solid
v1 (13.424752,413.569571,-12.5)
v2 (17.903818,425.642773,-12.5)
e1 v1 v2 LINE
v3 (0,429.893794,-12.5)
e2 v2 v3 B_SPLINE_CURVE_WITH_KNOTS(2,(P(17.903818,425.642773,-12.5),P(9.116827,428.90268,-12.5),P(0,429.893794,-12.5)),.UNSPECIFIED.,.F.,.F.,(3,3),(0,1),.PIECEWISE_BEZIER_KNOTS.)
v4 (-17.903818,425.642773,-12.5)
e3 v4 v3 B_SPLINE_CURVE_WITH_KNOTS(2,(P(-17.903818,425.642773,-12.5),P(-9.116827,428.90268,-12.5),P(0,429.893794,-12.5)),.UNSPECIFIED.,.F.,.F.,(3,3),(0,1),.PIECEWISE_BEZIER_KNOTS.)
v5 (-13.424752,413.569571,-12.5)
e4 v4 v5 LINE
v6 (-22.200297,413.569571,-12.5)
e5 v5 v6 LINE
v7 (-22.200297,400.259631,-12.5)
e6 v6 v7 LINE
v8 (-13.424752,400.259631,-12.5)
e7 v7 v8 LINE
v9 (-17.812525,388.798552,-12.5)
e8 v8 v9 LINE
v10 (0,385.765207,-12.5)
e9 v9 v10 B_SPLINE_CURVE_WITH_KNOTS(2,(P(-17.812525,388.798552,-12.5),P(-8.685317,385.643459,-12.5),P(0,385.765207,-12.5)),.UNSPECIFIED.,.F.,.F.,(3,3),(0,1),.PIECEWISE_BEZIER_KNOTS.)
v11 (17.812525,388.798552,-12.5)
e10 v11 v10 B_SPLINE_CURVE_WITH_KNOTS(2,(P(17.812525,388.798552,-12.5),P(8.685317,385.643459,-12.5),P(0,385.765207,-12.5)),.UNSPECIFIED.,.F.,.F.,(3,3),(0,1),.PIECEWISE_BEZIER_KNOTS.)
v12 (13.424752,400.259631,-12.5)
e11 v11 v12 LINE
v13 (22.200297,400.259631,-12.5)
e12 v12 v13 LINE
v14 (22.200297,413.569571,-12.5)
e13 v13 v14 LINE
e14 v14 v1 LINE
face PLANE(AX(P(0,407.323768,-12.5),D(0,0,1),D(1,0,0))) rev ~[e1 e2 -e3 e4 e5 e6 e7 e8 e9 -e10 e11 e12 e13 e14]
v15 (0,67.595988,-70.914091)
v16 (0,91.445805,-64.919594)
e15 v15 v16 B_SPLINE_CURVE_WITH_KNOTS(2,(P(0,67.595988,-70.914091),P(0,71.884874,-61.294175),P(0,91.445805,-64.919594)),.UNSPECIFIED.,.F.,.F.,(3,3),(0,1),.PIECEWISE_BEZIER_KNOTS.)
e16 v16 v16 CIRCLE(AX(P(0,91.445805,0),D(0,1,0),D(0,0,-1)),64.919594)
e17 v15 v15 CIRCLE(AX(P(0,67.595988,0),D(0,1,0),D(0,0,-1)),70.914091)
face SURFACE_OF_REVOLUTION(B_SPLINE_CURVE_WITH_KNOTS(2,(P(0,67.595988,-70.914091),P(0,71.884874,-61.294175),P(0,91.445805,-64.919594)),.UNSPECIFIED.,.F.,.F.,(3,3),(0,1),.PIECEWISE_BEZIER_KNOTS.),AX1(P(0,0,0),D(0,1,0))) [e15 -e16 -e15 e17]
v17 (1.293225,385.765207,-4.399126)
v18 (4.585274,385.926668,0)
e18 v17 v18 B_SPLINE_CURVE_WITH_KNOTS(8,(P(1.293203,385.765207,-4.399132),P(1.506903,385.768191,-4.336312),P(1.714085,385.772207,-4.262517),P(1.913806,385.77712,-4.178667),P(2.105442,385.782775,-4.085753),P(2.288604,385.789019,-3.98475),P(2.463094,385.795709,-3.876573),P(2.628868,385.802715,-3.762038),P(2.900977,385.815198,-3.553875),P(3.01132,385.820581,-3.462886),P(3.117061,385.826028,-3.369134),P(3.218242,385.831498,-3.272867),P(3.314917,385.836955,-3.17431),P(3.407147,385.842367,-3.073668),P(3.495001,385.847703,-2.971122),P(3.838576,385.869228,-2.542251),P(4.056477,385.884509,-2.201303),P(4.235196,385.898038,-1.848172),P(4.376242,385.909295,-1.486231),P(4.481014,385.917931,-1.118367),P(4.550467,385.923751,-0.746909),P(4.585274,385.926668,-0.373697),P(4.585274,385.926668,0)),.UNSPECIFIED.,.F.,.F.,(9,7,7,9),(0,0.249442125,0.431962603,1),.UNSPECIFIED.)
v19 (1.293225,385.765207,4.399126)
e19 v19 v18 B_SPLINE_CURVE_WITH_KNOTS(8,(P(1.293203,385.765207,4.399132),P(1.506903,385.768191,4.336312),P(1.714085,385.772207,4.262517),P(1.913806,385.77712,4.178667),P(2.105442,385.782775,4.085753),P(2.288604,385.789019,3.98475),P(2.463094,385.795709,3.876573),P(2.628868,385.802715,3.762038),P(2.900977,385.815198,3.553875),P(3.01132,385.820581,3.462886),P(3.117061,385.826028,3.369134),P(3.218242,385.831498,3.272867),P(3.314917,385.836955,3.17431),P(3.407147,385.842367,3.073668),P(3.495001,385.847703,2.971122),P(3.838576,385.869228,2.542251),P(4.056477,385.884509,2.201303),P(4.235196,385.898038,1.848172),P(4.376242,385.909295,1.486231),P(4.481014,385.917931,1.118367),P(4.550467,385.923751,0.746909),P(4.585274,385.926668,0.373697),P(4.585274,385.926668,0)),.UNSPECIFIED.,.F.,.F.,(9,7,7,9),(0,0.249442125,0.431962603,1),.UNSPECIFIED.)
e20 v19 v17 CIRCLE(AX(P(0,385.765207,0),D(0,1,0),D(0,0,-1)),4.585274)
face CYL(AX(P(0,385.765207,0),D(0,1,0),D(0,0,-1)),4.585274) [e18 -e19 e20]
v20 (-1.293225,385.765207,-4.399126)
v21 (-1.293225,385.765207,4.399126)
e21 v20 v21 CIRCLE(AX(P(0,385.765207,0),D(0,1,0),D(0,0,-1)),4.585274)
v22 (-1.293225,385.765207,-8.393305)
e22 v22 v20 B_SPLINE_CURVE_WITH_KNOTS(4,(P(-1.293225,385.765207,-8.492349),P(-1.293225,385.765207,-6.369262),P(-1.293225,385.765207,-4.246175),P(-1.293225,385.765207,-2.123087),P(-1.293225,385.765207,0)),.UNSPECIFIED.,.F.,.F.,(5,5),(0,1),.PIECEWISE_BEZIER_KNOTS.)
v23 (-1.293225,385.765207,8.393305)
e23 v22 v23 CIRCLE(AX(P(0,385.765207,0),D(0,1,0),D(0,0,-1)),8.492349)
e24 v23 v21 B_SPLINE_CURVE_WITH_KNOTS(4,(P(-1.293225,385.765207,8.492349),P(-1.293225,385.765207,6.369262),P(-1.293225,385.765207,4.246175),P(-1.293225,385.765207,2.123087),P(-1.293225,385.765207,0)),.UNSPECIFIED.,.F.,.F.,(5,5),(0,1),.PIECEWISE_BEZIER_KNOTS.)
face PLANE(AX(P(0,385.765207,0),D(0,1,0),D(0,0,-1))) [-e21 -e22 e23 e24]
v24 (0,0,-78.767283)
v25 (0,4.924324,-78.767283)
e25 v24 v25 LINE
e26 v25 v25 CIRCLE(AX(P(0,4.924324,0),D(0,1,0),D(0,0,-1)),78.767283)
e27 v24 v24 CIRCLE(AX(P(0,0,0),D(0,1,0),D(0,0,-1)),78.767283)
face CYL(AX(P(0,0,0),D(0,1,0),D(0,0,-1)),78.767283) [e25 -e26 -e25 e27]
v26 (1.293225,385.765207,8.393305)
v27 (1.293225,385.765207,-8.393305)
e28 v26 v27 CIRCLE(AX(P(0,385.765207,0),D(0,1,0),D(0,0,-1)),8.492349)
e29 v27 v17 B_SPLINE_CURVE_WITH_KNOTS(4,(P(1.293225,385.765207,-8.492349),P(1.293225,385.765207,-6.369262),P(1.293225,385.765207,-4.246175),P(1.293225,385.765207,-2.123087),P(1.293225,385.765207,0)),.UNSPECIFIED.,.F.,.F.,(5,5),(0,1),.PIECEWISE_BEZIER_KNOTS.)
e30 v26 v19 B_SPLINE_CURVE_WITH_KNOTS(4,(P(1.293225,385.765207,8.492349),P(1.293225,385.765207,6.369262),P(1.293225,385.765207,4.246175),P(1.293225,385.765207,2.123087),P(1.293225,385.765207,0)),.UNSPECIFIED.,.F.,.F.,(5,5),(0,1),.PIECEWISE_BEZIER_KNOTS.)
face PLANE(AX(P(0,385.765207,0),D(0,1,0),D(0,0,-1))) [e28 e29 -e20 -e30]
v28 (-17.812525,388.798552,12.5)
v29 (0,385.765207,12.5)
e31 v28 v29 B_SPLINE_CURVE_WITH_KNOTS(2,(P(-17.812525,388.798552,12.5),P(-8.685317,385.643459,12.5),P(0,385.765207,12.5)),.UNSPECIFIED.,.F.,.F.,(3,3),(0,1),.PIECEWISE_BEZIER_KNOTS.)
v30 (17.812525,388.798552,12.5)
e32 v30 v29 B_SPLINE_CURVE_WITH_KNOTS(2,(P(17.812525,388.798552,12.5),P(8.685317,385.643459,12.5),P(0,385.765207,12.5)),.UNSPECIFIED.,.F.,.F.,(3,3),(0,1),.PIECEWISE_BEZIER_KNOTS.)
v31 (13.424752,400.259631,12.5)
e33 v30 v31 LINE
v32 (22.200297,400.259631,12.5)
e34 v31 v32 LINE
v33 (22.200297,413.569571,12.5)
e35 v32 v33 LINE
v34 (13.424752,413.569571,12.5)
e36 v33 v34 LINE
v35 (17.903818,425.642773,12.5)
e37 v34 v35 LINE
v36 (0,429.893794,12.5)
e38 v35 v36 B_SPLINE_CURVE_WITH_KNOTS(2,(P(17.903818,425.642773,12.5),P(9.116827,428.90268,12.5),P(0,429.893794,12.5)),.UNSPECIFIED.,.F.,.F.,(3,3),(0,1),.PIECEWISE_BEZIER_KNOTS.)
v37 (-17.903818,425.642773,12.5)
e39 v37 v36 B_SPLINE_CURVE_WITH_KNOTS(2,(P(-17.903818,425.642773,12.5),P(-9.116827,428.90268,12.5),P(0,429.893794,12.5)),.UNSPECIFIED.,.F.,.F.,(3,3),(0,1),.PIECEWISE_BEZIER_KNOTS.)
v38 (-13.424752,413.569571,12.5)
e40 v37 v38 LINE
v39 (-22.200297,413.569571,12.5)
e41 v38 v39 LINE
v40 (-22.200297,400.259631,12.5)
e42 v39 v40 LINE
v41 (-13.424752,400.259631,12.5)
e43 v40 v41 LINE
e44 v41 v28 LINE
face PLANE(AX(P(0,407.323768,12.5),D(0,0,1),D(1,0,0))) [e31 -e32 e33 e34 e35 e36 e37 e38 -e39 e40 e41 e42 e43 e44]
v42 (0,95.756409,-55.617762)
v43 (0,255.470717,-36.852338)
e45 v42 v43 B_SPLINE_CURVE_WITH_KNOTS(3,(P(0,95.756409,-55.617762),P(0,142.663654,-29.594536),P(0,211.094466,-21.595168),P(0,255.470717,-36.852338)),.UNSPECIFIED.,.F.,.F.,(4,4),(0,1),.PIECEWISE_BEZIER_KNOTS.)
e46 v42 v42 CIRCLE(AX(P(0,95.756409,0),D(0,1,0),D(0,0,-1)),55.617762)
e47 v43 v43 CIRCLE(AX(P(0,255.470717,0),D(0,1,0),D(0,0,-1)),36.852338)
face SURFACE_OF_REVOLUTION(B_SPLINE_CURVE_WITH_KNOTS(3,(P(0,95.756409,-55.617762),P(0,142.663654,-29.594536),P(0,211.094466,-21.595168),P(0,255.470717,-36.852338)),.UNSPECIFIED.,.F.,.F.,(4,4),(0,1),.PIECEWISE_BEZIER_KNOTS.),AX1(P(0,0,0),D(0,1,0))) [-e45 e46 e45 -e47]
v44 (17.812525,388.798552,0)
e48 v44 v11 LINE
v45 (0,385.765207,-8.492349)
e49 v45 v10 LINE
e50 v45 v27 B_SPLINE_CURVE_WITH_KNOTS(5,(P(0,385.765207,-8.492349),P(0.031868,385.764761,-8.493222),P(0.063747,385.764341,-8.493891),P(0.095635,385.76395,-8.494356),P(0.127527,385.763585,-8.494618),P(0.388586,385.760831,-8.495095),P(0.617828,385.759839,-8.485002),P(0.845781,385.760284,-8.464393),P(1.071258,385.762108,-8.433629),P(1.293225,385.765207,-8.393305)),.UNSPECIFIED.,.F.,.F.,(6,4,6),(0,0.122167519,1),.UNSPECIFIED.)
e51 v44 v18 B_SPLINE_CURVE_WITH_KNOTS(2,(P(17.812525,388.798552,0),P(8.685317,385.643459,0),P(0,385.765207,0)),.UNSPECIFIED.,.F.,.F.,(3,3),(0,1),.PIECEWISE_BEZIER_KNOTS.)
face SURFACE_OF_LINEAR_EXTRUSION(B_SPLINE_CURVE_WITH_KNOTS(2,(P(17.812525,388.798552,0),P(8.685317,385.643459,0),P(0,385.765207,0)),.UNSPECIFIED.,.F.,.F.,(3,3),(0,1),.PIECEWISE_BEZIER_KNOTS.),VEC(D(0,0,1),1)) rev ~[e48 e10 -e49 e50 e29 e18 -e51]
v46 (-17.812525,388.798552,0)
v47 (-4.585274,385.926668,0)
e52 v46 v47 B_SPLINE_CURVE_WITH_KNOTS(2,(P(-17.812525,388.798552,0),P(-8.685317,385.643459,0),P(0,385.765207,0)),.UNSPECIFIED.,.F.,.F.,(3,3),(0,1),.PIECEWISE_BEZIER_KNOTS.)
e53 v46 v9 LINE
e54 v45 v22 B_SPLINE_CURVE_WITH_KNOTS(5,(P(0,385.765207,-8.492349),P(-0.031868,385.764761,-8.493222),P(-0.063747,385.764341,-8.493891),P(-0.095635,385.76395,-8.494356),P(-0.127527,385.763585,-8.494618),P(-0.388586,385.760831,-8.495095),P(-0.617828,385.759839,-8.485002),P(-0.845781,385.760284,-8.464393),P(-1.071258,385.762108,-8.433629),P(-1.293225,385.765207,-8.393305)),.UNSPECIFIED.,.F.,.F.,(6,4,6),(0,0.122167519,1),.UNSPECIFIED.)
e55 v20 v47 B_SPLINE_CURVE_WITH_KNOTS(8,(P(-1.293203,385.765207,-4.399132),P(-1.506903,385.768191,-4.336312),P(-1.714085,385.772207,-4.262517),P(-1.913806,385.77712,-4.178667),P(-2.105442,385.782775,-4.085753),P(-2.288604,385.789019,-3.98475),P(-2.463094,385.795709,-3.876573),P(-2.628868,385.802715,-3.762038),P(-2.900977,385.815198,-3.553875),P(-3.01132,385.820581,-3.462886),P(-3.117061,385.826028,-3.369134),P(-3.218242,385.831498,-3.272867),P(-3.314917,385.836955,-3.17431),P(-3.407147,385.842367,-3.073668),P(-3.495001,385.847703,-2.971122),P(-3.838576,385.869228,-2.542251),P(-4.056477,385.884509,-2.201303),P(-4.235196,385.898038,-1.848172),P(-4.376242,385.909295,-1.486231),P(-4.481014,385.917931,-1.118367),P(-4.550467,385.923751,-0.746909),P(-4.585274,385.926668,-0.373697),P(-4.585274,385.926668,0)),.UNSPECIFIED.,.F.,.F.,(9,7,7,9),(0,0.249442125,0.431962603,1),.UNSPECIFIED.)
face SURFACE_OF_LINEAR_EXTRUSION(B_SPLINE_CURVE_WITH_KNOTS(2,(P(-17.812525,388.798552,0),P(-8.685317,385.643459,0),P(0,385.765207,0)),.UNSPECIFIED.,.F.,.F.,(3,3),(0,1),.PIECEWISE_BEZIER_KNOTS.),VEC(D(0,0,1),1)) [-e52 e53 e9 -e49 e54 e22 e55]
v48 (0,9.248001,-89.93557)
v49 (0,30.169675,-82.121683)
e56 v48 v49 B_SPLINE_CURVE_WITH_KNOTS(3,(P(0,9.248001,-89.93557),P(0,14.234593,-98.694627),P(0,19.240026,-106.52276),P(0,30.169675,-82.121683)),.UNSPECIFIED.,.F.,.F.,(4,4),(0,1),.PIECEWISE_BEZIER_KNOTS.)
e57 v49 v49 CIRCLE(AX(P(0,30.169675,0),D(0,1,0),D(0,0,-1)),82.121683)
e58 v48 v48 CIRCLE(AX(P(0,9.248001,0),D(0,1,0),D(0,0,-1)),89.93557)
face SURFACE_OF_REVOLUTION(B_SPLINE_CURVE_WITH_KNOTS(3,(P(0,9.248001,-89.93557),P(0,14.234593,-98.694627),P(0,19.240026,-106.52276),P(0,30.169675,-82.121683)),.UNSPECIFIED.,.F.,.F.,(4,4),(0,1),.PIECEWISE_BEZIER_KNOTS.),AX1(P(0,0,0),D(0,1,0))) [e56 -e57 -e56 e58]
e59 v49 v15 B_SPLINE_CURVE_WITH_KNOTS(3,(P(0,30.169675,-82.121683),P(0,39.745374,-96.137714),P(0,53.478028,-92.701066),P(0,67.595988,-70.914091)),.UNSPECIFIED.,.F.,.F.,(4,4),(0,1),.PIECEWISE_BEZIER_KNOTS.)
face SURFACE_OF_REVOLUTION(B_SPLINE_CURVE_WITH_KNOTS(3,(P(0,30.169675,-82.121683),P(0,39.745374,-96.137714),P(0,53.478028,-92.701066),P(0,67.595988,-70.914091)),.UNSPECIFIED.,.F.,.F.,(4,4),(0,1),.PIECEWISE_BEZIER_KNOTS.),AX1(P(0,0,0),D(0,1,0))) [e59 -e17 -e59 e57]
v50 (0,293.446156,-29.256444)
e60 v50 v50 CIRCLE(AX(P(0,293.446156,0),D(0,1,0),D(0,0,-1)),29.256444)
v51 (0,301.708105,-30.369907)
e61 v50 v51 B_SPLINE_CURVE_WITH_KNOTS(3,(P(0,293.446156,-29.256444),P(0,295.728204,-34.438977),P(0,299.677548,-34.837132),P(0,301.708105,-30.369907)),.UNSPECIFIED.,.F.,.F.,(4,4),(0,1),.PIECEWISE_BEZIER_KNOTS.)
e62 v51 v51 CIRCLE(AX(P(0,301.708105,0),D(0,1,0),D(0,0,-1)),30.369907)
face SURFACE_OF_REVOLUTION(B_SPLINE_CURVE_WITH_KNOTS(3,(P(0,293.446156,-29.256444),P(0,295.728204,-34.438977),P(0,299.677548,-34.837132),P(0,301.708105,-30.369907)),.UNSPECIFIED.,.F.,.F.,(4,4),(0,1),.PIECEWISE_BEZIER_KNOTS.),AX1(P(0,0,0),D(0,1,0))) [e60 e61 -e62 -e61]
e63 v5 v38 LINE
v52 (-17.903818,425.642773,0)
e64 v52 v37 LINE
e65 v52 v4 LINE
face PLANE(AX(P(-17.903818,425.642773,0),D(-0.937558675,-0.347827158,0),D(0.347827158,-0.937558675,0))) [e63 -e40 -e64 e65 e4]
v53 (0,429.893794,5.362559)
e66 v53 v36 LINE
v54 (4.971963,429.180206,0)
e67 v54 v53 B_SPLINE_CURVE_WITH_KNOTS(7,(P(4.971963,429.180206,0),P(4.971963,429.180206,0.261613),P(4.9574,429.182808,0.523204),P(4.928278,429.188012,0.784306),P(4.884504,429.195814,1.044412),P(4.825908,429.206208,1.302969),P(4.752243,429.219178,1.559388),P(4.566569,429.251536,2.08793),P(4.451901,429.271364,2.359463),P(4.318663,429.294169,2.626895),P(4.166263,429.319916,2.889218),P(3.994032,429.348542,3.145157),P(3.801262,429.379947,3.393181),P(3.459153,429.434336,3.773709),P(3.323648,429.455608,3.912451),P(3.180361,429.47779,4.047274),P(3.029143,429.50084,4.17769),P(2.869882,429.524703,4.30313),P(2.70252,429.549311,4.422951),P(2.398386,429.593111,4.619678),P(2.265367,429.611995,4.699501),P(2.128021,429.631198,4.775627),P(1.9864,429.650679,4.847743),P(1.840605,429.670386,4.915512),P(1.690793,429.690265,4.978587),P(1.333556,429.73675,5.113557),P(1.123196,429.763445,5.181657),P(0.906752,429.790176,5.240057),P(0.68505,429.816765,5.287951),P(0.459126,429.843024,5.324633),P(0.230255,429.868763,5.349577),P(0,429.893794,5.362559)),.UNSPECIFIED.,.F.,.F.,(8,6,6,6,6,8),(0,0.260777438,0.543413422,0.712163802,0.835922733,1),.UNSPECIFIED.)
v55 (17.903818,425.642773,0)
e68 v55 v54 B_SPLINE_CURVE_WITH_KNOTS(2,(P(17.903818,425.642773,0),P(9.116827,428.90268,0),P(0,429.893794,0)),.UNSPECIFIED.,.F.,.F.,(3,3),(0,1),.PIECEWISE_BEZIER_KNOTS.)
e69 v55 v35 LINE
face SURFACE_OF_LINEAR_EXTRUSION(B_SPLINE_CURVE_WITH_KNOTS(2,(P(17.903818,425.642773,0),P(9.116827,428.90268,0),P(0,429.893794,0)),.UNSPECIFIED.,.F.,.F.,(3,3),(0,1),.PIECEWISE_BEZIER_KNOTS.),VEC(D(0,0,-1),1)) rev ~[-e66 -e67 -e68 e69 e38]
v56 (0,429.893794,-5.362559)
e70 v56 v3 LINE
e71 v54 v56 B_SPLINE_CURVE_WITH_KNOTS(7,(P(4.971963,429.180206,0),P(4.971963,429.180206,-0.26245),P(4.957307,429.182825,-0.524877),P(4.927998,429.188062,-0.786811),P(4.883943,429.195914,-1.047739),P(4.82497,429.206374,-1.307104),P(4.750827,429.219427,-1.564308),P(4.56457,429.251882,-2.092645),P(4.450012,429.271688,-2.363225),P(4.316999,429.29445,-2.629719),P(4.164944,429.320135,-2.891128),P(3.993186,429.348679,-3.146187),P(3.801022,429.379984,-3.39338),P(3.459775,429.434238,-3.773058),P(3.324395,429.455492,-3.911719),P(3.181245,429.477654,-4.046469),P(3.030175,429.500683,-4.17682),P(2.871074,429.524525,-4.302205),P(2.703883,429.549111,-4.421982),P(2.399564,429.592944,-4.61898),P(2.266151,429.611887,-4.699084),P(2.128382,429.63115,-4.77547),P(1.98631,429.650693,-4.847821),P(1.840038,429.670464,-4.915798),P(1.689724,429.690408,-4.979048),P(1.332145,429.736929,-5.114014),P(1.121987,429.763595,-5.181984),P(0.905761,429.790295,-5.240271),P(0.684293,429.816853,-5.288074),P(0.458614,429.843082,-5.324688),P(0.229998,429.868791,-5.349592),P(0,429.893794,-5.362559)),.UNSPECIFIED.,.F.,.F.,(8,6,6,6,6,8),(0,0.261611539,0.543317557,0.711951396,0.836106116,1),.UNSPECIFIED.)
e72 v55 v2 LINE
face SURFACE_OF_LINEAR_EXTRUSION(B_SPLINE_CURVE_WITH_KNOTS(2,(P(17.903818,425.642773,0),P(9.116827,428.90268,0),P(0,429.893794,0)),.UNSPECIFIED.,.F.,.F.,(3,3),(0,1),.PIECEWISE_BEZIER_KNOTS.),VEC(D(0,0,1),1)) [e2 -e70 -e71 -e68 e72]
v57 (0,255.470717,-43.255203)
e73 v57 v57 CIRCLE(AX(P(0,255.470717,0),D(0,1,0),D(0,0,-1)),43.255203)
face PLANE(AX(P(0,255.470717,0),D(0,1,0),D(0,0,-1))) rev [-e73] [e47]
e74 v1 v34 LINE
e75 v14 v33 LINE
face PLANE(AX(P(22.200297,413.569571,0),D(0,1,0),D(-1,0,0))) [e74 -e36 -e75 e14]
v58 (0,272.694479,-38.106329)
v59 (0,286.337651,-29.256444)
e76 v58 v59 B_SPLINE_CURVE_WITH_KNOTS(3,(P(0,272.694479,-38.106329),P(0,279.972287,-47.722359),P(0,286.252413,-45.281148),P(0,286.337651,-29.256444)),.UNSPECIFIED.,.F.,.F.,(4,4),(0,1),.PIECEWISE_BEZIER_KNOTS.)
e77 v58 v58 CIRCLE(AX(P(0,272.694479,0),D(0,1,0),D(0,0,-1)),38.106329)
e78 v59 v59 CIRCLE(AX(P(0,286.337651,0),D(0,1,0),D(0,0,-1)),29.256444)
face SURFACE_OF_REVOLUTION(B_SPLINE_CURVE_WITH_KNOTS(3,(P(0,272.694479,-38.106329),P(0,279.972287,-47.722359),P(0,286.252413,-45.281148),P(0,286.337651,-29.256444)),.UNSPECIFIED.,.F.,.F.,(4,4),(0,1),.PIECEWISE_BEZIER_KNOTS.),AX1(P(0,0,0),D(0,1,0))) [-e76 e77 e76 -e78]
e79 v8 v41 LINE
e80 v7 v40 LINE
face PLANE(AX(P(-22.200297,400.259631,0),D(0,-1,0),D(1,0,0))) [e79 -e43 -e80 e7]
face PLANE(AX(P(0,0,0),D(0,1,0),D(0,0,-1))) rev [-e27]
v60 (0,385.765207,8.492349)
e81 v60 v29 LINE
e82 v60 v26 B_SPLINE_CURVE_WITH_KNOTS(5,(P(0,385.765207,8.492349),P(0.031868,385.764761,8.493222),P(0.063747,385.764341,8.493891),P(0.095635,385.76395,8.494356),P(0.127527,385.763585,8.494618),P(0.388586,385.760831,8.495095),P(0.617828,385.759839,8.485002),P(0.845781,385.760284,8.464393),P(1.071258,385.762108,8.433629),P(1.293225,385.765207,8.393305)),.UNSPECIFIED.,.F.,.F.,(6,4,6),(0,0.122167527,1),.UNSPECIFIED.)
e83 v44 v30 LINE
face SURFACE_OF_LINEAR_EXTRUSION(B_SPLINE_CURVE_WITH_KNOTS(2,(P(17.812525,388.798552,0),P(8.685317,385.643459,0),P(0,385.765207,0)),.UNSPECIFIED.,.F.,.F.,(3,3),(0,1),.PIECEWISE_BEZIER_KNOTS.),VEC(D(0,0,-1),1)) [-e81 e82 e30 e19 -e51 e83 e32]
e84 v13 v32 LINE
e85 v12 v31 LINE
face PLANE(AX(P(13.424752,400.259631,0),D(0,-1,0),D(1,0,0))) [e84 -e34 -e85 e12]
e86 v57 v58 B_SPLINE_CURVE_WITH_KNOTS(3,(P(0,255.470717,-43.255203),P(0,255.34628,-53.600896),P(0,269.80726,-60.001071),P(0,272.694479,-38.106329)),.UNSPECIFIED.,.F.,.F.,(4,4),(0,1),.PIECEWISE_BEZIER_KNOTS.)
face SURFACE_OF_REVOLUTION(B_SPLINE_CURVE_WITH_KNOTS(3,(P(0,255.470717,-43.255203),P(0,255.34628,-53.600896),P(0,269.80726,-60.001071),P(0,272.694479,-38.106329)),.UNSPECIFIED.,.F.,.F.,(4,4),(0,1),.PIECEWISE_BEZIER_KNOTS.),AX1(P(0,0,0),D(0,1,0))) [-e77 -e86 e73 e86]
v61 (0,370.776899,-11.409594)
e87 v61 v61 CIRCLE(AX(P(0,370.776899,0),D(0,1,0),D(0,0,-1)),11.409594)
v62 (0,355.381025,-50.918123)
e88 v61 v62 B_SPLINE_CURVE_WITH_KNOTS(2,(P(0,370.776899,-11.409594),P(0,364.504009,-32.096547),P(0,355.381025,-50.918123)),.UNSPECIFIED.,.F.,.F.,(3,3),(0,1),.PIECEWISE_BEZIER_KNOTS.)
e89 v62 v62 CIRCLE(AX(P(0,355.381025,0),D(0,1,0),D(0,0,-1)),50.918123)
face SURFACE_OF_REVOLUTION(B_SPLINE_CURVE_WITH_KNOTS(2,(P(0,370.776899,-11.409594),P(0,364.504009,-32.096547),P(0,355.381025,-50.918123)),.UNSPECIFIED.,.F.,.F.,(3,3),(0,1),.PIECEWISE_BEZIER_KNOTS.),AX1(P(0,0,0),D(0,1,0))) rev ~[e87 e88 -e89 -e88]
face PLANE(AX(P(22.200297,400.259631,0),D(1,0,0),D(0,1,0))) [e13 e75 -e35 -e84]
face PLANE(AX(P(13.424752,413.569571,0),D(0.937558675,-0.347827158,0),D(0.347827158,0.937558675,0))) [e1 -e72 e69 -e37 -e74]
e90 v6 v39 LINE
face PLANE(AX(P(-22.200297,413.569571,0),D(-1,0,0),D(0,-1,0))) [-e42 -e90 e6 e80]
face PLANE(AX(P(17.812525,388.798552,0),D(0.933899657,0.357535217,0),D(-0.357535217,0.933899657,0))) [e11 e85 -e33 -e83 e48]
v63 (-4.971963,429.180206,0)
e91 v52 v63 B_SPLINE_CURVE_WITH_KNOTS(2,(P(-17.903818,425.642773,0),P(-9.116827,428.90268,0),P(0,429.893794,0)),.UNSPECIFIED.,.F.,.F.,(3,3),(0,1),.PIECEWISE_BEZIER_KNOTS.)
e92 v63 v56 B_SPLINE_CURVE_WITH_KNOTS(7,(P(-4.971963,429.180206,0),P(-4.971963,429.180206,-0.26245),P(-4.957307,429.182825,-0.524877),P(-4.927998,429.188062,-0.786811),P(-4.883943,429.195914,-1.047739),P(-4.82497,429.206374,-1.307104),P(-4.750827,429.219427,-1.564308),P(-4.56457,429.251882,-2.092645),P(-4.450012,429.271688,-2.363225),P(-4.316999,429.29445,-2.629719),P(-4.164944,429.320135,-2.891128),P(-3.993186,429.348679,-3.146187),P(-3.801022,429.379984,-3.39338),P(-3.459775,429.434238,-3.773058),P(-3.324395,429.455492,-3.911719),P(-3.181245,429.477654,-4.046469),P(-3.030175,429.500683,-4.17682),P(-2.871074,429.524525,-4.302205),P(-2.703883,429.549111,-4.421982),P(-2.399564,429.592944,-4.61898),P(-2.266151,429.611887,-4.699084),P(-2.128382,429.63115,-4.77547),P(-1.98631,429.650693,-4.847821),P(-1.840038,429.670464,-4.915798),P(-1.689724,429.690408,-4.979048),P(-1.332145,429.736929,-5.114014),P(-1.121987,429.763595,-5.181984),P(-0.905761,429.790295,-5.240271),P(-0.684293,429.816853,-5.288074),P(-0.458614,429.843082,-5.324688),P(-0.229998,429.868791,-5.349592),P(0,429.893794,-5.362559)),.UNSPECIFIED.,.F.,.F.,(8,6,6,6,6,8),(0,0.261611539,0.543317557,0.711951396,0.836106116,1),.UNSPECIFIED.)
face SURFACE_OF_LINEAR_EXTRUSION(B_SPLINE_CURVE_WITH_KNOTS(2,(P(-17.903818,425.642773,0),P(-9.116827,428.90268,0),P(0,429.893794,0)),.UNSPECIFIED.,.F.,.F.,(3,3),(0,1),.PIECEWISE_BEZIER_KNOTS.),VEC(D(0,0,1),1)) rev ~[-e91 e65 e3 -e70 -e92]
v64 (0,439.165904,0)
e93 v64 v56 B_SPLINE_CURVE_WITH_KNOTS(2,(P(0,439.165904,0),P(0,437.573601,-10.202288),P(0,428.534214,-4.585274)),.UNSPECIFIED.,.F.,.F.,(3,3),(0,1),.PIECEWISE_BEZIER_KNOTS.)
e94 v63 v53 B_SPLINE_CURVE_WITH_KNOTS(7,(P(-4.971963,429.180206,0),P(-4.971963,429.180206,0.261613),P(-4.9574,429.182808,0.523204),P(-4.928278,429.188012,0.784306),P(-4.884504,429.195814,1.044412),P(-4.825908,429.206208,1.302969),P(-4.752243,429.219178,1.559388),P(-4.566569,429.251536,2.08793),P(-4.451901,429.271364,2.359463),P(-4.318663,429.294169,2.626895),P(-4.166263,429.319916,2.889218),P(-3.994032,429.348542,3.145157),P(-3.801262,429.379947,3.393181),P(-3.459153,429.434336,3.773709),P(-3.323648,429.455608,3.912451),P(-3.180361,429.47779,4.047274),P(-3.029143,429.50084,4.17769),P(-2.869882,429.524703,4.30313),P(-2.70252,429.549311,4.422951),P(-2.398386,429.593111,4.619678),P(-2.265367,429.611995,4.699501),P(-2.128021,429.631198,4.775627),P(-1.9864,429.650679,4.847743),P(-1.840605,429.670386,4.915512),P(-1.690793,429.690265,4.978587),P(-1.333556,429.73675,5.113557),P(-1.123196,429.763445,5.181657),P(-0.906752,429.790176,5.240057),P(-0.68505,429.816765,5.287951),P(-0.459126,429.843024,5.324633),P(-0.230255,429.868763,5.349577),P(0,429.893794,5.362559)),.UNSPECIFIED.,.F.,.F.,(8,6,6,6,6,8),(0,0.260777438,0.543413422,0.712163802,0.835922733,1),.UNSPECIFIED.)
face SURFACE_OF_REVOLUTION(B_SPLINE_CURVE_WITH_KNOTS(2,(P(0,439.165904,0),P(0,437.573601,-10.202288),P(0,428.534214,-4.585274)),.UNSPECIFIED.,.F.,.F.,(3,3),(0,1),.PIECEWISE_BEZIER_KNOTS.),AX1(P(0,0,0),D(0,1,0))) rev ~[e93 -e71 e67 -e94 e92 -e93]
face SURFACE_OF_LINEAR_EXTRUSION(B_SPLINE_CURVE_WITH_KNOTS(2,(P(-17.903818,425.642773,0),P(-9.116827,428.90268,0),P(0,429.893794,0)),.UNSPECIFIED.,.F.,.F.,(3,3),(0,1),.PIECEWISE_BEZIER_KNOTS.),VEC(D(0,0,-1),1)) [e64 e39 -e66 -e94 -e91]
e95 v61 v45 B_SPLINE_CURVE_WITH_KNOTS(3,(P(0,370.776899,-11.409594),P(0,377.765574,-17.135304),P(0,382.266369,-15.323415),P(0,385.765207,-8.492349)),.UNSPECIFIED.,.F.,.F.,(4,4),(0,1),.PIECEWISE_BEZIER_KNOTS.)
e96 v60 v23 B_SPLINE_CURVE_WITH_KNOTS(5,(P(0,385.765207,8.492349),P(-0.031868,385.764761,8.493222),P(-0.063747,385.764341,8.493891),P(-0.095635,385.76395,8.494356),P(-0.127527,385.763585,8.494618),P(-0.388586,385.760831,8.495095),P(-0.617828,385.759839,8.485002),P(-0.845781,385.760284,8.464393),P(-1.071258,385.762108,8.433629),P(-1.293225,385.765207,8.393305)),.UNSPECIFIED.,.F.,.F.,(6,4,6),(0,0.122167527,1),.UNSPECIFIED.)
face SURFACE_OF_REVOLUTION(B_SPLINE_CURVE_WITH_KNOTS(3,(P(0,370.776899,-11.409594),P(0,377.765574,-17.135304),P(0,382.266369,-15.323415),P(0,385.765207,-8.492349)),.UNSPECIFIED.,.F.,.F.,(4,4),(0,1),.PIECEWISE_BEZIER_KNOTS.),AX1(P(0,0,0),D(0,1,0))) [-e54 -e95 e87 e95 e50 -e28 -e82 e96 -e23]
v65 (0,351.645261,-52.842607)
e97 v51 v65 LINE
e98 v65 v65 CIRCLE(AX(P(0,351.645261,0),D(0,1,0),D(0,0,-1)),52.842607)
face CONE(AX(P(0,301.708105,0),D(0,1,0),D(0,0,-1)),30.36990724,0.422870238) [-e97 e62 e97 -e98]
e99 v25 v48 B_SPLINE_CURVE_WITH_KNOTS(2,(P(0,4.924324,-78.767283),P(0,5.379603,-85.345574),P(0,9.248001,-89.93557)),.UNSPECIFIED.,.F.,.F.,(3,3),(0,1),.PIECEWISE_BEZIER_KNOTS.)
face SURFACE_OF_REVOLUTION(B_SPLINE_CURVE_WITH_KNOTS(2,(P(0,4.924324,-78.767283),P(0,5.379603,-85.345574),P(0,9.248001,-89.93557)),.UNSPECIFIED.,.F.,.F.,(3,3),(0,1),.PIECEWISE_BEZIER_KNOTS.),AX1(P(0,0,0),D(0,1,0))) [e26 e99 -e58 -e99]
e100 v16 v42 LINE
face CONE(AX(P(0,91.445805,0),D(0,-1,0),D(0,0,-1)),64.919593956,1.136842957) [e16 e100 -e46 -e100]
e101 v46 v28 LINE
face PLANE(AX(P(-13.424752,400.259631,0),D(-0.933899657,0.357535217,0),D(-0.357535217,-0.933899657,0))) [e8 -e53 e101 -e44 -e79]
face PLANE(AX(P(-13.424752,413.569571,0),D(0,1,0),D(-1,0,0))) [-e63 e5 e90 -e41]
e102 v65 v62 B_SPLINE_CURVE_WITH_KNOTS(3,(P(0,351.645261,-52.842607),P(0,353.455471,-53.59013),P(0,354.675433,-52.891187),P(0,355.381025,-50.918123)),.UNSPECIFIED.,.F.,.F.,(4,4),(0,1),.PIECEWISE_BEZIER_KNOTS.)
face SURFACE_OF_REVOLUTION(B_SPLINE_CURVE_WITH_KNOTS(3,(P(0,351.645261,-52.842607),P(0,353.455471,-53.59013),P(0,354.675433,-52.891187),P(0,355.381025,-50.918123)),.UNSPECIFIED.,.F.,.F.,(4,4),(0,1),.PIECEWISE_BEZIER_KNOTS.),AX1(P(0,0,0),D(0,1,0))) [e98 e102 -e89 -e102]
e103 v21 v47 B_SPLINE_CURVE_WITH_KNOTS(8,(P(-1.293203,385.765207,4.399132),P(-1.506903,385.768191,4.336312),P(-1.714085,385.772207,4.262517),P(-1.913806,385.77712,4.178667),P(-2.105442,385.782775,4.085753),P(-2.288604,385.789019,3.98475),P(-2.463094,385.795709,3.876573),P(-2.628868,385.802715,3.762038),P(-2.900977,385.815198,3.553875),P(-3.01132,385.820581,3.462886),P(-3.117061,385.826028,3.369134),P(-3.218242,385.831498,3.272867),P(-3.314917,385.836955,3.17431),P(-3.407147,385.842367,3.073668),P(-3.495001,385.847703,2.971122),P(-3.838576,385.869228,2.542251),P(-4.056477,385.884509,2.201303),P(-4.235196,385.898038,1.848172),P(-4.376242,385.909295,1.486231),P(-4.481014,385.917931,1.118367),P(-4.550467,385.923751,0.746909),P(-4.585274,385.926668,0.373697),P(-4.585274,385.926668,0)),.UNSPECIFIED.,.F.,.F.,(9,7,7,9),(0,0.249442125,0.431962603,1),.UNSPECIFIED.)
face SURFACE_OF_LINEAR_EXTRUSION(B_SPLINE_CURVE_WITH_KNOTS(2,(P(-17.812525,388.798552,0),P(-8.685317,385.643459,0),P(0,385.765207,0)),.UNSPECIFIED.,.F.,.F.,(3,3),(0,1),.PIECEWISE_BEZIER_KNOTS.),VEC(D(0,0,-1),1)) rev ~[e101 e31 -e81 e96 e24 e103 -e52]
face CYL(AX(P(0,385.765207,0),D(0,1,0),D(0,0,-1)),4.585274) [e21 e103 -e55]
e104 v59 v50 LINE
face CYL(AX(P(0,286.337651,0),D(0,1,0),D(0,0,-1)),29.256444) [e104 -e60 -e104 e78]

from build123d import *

# Parameters (mm, degrees)
BOSS_EXTRUDE1_DEPTH = 25
SCALE2_SCALE        = 0.5


with BuildPart() as part:
    # Sketch1 → Revolve1 (revolve)
    with BuildSketch(Plane.XY, mode=Mode.PRIVATE) as revolve1_sk:
        with BuildLine():
            Line((0, 0), (157.534566076, 0))
            Line((157.534566076, 0), (157.534566076, 9.848648506))
            add(Edge.make_bspline(
                [(157.534566076, 9.848648506), (170.691147361, 10.759205797), (179.87114019, 18.496002822)],
                knots=[0, 0, 0, 1, 1, 1], degree=2))
            add(Edge.make_bspline(
                [(179.87114019, 18.496002822), (197.389253044, 28.469185883), (213.045519488, 38.480052116), (164.243366154, 60.339349963)],
                knots=[0, 0, 0, 0, 1, 1, 1, 1], degree=3))
            add(Edge.make_bspline(
                [(164.243366154, 60.339349963), (192.275428556, 79.490747386), (185.402131901, 106.956056429), (141.828181852, 135.191976061)],
                knots=[0, 0, 0, 0, 1, 1, 1, 1], degree=3))
            add(Edge.make_bspline(
                [(141.828181852, 135.191976061), (122.588349336, 143.769748289), (129.839187911, 182.891609085)],
                knots=[0, 0, 0, 1, 1, 1], degree=2))
            Line((129.839187911, 182.891609085), (111.235524671, 191.512818879))
            add(Edge.make_bspline(
                [(111.235524671, 191.512818879), (59.189071108, 285.32730758), (43.190335037, 422.18893219), (73.704675046, 510.94143428)],
                knots=[0, 0, 0, 0, 1, 1, 1, 1], degree=3))
            Line((73.704675046, 510.94143428), (86.510405523, 510.94143428))
            add(Edge.make_bspline(
                [(86.510405523, 510.94143428), (107.201791664, 510.692559382), (120.002142397, 539.614520703), (76.212657991, 545.388958207)],
                knots=[0, 0, 0, 0, 1, 1, 1, 1], degree=3))
            add(Edge.make_bspline(
                [(76.212657991, 545.388958207), (95.444717478, 559.944574751), (90.562296866, 572.504825971), (58.512887719, 572.675301552)],
                knots=[0, 0, 0, 0, 1, 1, 1, 1], degree=3))
            Line((58.512887719, 572.675301552), (58.512887719, 586.892311661))
            add(Edge.make_bspline(
                [(58.512887719, 586.892311661), (68.877954513, 591.456407354), (69.67426492, 599.355096017), (60.73981448, 603.416209853)],
                knots=[0, 0, 0, 0, 1, 1, 1, 1], degree=3))
            Line((60.73981448, 603.416209853), (105.685214383, 703.290522926))
            add(Edge.make_bspline(
                [(105.685214383, 703.290522926), (107.180260536, 706.910941122), (105.782374551, 709.350866236), (101.836245926, 710.76204993)],
                knots=[0, 0, 0, 0, 1, 1, 1, 1], degree=3))
            add(Edge.make_bspline(
                [(22.81918761, 741.553797583), (64.193094091, 729.008017029), (101.836245926, 710.76204993)],
                knots=[0, 0, 0, 1, 1, 1], degree=2))
            add(Edge.make_bspline(
                [(22.81918761, 741.553797583), (34.270608042, 755.531147771), (30.646829273, 764.532738015), (16.98469883, 771.530414583)],
                knots=[0, 0, 0, 0, 1, 1, 1, 1], degree=3))
            Line((16.98469883, 771.530414583), (9.170548703, 771.530414583))
            Line((9.170548703, 771.530414583), (9.170548703, 857.068427711))
            add(Edge.make_bspline(
                [(0, 878.331808547), (20.404576067, 875.147202135), (9.170548703, 857.068427711)],
                knots=[0, 0, 0, 1, 1, 1], degree=2))
            Line((0, 878.331808547), (0, 0))
        make_face()
    revolve(revolve1_sk.sketch.rotate(Axis((0, 0, 0), (0, 1, 0)), 90), axis=Axis((0, 0, 0), (0, 1, 0)))

    # Sketch2 → Boss-Extrude1 (add, symmetric)
    with BuildSketch(Plane.XY):
        with BuildLine():
            Line((-35.807636582, 851.285546322), (-26.849503905, 827.139142514))
            Line((-26.849503905, 827.139142514), (-44.400594396, 827.139142514))
            Line((-44.400594396, 827.139142514), (-44.400594396, 800.519262571))
            Line((-44.400594396, 800.519262571), (-26.849503905, 800.519262571))
            Line((-26.849503905, 800.519262571), (-35.625049151, 777.597104674))
            add(Edge.make_bspline(
                [(-35.625049151, 777.597104674), (-17.370634382, 771.286917559), (0, 771.530414583)],
                knots=[0, 0, 0, 1, 1, 1], degree=2))
            add(Edge.make_bspline(
                [(35.625049151, 777.597104674), (17.370634382, 771.286917559), (0, 771.530414583)],
                knots=[0, 0, 0, 1, 1, 1], degree=2))
            Line((35.625049151, 777.597104674), (26.849503905, 800.519262571))
            Line((26.849503905, 800.519262571), (44.400594396, 800.519262571))
            Line((44.400594396, 800.519262571), (44.400594396, 827.139142514))
            Line((44.400594396, 827.139142514), (26.849503905, 827.139142514))
            Line((26.849503905, 827.139142514), (35.807636582, 851.285546322))
            add(Edge.make_bspline(
                [(35.807636582, 851.285546322), (18.233654929, 857.805360227), (0, 859.787588823)],
                knots=[0, 0, 0, 1, 1, 1], degree=2))
            add(Edge.make_bspline(
                [(-35.807636582, 851.285546322), (-18.233654929, 857.805360227), (0, 859.787588823)],
                knots=[0, 0, 0, 1, 1, 1], degree=2))
        make_face()
    extrude(amount=BOSS_EXTRUDE1_DEPTH, both=True)


with BuildPart() as part_1:
    # Scale2: scaled about (0, 0, 0)
    add(part.part.scale(SCALE2_SCALE))


solid = part_1.part
